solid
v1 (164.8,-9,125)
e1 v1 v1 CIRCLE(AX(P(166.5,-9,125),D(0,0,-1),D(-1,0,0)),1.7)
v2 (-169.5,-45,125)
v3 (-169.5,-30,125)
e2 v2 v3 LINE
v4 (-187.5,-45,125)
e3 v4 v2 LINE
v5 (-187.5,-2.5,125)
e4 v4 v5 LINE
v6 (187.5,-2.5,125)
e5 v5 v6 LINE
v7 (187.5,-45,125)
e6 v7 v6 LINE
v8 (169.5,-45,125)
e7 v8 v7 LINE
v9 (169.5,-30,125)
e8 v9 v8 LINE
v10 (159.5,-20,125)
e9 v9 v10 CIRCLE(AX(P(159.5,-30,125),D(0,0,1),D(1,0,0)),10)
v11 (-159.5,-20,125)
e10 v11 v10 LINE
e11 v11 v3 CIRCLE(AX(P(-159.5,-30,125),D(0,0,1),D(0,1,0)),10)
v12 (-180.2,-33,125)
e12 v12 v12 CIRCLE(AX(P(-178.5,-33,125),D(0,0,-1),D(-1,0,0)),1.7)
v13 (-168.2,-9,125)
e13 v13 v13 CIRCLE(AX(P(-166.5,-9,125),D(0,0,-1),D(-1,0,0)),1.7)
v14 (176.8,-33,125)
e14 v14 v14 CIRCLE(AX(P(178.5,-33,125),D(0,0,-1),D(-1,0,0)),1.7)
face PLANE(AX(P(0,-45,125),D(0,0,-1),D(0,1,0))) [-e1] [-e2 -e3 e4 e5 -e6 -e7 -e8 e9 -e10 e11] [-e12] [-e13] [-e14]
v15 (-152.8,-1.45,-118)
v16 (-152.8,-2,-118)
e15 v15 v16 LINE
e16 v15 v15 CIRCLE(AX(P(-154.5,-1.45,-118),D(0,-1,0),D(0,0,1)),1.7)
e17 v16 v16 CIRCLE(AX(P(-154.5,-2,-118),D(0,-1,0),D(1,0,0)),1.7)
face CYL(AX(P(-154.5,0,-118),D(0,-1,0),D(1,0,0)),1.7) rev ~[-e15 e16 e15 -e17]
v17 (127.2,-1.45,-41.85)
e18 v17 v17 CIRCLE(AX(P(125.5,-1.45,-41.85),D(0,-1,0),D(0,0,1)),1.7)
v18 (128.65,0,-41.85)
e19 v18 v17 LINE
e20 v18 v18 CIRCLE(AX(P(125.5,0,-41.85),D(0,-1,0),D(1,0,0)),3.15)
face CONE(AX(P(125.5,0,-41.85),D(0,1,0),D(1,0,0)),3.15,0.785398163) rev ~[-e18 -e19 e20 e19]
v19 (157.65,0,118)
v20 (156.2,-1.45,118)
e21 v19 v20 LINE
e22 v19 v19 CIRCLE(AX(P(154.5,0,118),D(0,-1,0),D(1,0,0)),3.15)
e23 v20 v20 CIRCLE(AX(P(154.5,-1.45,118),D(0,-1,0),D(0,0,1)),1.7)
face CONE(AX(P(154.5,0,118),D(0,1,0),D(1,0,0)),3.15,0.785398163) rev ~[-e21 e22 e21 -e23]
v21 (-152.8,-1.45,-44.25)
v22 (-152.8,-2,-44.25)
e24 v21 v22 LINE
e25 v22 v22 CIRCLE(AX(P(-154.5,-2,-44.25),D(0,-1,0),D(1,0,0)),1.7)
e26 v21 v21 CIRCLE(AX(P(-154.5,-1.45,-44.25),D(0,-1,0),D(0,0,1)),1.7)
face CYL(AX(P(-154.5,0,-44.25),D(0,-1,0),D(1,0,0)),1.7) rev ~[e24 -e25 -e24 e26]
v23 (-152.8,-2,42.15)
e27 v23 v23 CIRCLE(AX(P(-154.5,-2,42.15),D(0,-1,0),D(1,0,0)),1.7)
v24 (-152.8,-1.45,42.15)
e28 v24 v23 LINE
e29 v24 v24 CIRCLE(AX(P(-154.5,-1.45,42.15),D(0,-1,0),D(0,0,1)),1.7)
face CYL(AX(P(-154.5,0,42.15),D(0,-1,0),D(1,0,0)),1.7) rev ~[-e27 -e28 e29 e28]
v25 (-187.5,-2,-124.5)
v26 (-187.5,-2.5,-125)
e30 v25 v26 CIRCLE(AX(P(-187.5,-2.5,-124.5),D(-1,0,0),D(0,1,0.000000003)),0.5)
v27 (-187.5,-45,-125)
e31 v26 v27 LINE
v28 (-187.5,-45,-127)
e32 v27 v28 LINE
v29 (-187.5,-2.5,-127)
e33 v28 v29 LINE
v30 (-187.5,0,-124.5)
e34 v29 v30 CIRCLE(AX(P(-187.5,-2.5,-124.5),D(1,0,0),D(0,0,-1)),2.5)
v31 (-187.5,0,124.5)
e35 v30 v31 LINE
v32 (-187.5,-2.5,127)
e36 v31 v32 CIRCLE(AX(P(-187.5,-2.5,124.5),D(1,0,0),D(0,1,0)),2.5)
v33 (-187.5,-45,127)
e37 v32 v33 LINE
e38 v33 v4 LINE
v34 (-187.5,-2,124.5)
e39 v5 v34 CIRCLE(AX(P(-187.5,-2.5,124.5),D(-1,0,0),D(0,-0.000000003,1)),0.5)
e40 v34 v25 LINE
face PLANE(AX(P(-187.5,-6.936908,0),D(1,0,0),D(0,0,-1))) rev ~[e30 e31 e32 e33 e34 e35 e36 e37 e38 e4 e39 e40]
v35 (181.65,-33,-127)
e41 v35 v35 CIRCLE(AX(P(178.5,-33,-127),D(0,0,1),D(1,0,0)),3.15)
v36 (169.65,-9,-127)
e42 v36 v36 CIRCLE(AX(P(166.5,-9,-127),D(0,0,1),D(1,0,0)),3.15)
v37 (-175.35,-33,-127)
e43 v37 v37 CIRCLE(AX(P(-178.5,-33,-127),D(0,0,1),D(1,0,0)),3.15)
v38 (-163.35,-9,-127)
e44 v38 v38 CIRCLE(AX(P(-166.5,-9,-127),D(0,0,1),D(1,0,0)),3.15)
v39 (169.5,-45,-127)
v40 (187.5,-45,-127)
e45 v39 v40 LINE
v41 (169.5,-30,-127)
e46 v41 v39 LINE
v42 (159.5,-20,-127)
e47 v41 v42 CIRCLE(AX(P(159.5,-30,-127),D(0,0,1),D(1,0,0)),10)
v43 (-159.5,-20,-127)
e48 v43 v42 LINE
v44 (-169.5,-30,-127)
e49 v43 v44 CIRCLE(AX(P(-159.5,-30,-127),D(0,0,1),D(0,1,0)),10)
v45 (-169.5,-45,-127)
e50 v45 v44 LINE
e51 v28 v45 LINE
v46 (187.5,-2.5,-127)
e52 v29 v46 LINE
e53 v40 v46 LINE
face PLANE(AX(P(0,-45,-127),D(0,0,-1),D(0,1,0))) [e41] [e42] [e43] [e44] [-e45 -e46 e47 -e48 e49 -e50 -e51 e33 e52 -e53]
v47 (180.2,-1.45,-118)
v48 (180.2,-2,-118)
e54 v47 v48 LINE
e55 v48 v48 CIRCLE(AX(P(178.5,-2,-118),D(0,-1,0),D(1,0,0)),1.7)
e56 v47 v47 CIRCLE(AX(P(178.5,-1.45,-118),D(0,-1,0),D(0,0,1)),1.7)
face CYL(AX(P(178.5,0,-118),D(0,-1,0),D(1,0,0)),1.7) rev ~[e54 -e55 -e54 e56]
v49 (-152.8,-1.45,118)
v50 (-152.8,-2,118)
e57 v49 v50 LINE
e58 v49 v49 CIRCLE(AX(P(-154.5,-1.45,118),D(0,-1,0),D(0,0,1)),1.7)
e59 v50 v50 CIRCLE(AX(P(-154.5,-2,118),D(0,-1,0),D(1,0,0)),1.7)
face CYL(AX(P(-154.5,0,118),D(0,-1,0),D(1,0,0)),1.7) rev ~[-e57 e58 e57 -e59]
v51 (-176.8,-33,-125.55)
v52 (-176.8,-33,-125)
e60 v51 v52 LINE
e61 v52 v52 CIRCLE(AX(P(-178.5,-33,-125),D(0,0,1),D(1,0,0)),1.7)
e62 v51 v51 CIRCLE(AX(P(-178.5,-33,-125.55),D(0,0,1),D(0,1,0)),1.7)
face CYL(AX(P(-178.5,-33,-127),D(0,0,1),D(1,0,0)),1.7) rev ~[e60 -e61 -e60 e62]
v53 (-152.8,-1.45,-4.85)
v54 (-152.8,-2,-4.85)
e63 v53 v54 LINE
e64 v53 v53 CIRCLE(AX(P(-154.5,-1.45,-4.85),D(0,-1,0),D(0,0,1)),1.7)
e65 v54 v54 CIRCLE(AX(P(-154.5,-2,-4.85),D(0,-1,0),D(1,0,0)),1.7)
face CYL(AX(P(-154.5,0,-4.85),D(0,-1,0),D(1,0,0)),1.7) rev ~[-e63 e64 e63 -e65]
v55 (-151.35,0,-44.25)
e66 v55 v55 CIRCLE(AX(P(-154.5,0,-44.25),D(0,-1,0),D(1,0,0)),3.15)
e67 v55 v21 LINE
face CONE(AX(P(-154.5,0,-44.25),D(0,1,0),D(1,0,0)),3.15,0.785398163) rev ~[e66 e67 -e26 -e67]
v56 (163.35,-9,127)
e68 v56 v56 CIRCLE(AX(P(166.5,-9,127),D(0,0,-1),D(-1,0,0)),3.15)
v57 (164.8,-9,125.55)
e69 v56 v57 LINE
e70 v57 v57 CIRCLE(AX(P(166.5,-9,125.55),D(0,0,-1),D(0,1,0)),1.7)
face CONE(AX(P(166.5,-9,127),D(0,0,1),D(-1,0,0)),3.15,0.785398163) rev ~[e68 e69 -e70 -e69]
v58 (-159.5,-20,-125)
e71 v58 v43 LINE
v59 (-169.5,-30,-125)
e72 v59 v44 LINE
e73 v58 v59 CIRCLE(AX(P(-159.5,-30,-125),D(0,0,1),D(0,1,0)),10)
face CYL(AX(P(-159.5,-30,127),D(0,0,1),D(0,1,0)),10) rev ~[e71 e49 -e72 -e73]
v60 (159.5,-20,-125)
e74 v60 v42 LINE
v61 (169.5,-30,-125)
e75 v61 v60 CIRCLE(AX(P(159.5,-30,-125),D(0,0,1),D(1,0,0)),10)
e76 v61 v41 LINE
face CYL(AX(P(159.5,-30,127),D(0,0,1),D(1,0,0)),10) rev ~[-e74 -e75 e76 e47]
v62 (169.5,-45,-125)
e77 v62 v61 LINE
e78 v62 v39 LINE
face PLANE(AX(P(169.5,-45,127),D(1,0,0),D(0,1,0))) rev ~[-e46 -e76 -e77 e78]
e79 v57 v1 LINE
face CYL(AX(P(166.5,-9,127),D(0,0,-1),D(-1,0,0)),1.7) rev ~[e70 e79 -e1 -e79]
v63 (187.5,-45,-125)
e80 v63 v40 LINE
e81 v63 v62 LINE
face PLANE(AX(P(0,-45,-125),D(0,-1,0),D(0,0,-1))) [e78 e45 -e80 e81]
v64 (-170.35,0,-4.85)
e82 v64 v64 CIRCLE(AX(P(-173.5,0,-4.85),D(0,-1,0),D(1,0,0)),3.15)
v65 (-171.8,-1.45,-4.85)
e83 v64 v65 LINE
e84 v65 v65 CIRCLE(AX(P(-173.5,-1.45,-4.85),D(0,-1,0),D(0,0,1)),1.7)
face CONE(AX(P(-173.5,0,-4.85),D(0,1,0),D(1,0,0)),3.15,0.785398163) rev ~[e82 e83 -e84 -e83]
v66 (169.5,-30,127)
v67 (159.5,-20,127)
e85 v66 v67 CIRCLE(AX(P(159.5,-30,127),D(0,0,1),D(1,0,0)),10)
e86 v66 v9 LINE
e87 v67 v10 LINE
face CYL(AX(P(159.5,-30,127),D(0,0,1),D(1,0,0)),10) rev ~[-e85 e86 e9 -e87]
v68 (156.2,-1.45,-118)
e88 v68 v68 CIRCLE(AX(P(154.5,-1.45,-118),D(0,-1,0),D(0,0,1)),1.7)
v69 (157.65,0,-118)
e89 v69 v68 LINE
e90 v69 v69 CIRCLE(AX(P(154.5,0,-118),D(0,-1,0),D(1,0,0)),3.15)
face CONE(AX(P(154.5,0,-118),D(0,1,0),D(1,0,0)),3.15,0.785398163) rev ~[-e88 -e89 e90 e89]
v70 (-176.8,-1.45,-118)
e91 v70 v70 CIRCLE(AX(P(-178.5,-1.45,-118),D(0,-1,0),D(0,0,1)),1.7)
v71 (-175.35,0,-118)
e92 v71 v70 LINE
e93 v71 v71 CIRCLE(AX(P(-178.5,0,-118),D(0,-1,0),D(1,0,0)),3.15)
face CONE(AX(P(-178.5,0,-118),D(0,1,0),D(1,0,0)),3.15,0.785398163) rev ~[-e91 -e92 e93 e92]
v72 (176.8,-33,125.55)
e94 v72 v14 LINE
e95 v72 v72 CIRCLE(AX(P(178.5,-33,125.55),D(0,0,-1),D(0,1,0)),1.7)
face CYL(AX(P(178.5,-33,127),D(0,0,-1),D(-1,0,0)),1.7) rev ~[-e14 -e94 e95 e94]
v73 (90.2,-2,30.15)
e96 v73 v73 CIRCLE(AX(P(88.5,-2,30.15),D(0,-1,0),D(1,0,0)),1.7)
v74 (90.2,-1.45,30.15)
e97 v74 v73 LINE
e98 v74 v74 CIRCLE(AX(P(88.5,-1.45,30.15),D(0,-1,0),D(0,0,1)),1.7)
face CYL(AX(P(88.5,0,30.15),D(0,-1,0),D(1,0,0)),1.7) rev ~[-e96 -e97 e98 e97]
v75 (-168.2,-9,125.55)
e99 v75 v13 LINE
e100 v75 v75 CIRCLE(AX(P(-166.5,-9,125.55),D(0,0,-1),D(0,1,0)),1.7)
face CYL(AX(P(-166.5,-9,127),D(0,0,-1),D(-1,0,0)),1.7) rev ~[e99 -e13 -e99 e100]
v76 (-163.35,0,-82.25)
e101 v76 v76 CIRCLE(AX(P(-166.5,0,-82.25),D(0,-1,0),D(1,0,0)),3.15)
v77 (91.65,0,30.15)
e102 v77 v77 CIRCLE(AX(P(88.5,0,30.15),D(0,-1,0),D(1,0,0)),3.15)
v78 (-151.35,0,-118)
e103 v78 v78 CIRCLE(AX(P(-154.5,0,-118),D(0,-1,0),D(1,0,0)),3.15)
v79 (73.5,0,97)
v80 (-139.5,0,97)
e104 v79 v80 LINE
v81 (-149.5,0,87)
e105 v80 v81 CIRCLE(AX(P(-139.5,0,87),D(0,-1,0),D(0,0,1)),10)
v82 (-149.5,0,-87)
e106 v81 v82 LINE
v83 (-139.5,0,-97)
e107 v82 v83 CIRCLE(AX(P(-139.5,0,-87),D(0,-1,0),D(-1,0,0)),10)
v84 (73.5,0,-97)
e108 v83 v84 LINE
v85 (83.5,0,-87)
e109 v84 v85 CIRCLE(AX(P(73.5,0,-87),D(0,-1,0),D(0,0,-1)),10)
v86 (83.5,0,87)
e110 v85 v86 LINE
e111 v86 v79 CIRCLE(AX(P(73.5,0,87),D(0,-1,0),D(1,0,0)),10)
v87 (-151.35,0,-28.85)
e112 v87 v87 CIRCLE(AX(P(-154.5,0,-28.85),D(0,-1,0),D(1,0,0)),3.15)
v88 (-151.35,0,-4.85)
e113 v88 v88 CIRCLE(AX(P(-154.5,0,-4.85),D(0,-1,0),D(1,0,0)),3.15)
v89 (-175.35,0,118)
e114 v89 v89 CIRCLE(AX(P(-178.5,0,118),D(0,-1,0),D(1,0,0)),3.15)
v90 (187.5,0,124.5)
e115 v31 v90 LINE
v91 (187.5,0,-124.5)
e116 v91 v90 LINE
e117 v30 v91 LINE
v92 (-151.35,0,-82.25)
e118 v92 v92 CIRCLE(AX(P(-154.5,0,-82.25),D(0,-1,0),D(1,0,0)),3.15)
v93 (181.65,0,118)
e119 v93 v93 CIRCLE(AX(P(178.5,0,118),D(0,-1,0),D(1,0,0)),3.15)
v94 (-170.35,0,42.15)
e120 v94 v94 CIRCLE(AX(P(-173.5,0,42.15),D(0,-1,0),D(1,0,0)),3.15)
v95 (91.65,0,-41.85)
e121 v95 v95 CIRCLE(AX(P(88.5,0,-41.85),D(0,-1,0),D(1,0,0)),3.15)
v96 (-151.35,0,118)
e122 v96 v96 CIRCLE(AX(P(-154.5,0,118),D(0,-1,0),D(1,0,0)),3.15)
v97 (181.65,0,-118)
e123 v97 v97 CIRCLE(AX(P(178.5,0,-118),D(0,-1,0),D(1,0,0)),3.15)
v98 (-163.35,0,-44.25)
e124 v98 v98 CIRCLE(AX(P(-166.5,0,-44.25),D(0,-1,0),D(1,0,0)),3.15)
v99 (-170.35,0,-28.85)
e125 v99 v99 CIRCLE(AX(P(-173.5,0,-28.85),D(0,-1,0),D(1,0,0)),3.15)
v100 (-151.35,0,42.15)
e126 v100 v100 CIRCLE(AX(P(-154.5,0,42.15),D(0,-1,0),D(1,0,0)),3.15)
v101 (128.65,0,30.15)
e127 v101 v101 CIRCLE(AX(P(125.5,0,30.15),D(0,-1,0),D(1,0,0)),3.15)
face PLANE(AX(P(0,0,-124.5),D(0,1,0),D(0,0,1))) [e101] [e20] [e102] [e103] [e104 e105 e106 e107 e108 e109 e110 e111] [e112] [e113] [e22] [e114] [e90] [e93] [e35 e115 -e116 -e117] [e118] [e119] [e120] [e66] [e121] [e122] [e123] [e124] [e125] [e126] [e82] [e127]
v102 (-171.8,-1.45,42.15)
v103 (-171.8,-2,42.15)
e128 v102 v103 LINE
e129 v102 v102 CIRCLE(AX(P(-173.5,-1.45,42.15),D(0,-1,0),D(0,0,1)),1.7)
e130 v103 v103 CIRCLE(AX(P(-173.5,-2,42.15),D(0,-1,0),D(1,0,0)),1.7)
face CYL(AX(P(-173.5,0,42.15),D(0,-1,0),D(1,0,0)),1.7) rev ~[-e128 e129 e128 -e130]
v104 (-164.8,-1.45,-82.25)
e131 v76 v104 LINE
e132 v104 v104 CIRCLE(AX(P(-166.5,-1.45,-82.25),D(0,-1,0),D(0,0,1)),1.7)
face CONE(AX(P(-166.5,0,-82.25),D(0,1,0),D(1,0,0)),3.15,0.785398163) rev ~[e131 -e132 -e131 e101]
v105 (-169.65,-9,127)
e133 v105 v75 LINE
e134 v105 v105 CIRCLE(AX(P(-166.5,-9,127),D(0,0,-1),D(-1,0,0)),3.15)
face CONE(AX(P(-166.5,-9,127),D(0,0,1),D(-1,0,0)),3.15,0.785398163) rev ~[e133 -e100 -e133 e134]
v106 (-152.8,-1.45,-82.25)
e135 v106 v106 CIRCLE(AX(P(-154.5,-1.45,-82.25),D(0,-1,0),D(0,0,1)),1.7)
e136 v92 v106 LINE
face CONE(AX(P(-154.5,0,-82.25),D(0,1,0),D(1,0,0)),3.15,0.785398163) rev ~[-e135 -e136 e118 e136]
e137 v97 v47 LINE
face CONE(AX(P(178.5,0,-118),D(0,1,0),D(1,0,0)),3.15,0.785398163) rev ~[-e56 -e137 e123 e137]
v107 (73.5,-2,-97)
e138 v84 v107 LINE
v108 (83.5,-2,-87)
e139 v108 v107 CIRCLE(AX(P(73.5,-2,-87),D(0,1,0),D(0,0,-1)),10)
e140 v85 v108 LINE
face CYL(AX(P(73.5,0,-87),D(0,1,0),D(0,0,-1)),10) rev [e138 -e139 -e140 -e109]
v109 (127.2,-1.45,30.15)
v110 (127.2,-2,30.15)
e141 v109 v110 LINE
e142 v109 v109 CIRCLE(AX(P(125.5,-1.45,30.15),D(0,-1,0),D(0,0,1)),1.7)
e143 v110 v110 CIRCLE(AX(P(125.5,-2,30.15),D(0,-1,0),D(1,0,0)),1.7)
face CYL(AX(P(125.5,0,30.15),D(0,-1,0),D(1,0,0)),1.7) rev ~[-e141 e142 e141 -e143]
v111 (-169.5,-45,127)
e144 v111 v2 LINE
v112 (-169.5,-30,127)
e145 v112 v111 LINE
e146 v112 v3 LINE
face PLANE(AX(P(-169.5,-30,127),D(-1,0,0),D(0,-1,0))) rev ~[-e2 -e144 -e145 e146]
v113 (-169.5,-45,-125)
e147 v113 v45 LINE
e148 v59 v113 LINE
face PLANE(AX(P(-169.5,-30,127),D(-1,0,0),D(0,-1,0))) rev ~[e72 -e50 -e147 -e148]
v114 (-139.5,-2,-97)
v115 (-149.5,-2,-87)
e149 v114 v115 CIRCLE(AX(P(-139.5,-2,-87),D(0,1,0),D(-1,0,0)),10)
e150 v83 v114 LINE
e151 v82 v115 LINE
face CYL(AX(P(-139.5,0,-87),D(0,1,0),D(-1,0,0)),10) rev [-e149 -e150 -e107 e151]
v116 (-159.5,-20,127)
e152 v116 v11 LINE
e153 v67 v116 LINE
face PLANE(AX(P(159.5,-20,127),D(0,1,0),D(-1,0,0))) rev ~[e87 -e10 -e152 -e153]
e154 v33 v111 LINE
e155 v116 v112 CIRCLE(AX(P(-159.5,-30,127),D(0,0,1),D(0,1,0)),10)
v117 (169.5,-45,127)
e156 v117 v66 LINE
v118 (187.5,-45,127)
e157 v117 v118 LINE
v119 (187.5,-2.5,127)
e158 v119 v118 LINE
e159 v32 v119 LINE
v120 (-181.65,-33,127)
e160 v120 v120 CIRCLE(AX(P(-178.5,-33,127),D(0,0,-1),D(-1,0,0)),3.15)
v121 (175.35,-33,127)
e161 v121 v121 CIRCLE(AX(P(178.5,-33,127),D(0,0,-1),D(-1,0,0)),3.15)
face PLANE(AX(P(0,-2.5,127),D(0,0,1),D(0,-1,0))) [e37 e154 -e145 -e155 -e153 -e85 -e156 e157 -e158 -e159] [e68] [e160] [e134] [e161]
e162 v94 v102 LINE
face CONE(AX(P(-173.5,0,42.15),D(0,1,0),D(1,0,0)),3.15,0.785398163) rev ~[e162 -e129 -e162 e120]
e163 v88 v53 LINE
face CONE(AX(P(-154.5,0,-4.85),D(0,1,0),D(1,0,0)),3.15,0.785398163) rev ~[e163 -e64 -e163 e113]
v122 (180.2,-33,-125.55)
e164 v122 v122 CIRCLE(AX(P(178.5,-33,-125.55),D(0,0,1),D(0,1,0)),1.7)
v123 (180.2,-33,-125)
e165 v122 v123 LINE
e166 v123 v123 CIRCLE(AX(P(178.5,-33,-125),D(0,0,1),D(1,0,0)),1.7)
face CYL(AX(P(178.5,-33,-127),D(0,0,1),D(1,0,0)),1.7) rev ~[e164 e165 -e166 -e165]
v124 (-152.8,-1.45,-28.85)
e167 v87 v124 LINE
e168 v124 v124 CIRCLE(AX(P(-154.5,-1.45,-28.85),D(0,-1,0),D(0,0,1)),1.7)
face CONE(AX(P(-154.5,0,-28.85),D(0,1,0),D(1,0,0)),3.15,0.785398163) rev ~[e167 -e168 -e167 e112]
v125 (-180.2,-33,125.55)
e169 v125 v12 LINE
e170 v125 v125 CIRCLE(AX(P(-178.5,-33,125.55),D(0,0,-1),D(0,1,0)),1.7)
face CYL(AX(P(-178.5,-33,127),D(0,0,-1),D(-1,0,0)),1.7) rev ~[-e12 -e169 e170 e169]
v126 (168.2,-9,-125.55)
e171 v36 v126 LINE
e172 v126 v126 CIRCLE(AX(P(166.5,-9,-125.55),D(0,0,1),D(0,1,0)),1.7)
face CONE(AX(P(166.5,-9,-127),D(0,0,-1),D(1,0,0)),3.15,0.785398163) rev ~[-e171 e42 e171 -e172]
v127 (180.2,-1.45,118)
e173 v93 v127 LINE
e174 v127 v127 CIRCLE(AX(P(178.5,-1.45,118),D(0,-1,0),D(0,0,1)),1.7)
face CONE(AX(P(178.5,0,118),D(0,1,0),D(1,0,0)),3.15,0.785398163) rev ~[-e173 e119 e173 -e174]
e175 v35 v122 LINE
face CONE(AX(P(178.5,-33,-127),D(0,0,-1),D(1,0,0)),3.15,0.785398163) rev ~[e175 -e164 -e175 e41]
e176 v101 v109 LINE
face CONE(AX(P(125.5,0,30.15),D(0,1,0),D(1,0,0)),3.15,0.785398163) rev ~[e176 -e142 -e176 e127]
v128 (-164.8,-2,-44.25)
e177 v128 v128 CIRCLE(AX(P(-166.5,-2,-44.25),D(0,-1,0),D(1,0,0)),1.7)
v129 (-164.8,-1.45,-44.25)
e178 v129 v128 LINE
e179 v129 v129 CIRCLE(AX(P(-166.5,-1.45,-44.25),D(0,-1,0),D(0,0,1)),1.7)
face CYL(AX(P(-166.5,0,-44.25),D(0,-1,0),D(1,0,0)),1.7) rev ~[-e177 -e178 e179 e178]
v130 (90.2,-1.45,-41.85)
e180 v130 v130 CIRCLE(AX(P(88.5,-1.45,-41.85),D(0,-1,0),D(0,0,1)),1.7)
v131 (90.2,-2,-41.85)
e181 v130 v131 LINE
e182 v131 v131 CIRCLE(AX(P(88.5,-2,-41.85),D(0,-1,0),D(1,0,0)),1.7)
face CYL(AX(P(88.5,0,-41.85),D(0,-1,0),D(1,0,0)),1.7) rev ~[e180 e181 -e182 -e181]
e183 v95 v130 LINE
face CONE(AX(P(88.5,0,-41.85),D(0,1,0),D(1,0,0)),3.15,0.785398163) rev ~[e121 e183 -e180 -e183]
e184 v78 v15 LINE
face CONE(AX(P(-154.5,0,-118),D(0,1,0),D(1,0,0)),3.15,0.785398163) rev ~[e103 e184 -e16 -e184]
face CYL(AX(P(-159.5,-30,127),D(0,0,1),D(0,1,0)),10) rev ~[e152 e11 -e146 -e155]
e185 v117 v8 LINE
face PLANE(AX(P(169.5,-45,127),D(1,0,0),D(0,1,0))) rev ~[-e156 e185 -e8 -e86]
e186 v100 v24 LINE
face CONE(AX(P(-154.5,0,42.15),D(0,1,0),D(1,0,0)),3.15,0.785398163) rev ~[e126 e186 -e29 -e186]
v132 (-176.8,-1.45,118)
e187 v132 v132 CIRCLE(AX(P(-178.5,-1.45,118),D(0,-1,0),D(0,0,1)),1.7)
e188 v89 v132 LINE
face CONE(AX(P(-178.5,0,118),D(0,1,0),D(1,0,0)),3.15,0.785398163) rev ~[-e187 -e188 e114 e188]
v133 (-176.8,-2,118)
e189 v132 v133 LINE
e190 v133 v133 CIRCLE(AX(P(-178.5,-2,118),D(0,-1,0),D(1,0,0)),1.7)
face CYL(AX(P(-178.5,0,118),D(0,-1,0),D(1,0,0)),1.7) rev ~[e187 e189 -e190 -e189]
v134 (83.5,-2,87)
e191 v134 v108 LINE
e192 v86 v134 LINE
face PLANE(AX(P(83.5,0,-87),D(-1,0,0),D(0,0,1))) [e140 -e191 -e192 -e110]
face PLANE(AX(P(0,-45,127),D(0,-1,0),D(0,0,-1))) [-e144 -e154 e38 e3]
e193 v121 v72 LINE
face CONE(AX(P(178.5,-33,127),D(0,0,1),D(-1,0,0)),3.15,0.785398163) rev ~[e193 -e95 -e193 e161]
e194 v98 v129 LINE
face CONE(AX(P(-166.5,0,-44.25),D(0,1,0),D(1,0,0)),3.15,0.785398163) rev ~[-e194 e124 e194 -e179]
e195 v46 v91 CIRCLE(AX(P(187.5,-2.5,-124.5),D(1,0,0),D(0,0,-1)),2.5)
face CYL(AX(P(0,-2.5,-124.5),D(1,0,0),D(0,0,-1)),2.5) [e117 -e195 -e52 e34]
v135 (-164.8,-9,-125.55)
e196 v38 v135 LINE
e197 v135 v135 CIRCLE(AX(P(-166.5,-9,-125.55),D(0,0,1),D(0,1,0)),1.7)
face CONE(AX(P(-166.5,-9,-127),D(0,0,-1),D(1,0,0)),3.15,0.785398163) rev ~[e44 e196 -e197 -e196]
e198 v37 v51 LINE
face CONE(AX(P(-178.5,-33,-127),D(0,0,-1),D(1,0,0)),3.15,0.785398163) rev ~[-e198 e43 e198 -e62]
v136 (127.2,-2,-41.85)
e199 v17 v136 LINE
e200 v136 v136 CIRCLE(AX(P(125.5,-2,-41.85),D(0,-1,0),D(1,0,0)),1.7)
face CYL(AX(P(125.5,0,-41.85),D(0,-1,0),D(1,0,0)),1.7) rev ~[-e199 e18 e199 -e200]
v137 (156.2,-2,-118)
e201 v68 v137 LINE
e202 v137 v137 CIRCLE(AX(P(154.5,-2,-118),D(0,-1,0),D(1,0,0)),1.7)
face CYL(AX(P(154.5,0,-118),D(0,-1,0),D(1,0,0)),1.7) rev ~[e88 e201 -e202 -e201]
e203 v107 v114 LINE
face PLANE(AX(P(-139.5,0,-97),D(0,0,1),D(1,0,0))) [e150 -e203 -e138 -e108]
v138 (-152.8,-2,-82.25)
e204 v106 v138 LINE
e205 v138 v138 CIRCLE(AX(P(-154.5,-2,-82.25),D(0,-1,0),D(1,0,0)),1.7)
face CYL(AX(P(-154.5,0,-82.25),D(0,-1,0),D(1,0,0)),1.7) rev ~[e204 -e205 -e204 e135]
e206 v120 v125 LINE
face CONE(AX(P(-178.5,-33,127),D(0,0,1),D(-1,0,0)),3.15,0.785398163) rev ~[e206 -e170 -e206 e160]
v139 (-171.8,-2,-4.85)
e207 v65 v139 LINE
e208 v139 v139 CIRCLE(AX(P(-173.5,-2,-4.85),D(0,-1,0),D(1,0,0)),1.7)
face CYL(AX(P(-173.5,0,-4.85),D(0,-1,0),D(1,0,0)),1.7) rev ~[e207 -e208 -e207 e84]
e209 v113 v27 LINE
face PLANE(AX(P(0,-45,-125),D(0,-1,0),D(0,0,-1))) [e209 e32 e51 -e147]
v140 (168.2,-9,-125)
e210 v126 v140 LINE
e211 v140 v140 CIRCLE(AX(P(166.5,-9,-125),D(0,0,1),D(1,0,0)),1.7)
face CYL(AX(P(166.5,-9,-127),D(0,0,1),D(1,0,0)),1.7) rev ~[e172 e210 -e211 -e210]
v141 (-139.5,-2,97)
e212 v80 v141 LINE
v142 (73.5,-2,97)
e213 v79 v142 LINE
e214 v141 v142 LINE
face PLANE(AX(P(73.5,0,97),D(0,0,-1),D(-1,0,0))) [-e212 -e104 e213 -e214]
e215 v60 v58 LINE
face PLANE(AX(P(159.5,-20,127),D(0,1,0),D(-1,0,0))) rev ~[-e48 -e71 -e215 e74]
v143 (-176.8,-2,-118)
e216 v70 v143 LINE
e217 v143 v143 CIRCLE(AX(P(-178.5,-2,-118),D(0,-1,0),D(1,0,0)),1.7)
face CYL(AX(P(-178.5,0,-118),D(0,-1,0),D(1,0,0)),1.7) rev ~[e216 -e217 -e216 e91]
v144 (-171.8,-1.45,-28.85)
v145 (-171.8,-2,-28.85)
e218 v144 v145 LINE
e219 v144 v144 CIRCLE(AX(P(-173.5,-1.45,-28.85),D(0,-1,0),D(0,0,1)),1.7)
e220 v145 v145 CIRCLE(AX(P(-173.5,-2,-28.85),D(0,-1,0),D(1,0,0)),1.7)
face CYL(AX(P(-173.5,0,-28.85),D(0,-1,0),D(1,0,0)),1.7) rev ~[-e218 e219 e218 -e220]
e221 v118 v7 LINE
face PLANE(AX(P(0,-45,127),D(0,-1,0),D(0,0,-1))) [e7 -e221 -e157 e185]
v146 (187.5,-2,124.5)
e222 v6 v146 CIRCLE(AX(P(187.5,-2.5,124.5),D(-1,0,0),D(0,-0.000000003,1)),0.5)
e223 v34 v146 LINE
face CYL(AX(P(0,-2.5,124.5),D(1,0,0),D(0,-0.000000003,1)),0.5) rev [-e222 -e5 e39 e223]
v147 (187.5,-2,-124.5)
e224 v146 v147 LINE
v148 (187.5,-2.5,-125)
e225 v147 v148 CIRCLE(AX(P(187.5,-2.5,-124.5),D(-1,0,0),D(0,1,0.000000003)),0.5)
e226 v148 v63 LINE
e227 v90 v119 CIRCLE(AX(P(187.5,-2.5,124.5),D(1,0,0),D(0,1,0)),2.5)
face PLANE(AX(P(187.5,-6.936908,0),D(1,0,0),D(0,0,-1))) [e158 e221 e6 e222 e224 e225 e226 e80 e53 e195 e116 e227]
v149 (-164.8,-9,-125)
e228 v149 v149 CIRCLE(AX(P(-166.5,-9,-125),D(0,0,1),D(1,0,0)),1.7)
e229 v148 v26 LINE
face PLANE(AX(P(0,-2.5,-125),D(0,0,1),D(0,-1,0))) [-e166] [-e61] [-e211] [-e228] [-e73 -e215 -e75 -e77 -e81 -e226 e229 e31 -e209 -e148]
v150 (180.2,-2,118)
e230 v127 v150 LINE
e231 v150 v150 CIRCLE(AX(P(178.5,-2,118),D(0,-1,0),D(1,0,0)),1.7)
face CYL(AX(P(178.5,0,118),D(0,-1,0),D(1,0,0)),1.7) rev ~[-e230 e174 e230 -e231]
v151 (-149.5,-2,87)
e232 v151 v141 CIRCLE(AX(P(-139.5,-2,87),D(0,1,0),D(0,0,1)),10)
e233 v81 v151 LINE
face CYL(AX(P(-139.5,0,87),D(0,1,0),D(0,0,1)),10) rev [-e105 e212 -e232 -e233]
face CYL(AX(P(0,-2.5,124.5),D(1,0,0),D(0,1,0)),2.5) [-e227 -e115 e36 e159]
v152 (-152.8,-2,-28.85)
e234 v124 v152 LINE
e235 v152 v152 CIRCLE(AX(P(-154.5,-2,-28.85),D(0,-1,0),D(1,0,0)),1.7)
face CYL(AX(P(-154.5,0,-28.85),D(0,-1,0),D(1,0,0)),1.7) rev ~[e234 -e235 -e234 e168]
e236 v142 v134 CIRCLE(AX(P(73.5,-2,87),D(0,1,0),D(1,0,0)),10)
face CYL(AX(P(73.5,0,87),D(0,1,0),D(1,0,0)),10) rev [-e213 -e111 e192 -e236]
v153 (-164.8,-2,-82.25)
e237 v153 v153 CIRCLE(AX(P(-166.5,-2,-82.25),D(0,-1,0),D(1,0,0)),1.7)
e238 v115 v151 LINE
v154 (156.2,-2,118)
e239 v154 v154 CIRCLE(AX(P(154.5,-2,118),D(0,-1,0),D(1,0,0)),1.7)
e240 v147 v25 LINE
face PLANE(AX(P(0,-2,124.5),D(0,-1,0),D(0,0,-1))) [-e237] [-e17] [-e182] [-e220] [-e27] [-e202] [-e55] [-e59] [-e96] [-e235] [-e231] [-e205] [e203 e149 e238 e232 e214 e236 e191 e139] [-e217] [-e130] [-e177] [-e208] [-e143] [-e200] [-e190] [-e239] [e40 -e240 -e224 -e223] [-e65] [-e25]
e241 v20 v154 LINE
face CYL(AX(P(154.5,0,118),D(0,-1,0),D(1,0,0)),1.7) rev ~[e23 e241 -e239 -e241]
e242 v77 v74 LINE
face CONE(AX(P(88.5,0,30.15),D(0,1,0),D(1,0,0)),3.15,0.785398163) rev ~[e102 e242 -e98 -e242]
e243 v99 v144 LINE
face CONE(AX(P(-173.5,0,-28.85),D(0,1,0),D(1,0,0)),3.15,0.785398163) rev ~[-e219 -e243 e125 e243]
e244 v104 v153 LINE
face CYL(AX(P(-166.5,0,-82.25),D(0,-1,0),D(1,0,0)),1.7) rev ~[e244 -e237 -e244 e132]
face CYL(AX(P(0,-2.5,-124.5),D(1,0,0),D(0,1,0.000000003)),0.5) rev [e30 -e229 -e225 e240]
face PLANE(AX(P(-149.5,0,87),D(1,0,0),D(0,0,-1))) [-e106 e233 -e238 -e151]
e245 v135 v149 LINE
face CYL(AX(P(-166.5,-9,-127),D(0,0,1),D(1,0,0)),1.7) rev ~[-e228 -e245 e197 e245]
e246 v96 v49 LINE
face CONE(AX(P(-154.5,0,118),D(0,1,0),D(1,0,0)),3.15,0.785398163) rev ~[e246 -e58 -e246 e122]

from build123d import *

# Parameters (mm, degrees)
BOSS_EXTRUDE1_DEPTH                             = 187.5
CUT_EXTRUDE1_DEPTH                              = 255
CUT_EXTRUDE2_DEPTH                              = 10
SKETCH4_R                                       = 1.5
CUT_EXTRUDE3_DEPTH                              = 255
SKETCH5_R                                       = 1.5
CUT_EXTRUDE4_DEPTH                              = 10
CSK_FOR_M3_FLAT_HEAD_MACHINE_SCREW1_D           = 3.4
CSK_FOR_M3_FLAT_HEAD_MACHINE_SCREW1_CSINK_D     = 6.3
CSK_FOR_M3_FLAT_HEAD_MACHINE_SCREW1_CSINK_ANGLE = 90
CSK_FOR_M3_FLAT_HEAD_MACHINE_SCREW2_D           = 3.4
CSK_FOR_M3_FLAT_HEAD_MACHINE_SCREW2_DEPTH       = 10
CSK_FOR_M3_FLAT_HEAD_MACHINE_SCREW2_CSINK_D     = 6.3
CSK_FOR_M3_FLAT_HEAD_MACHINE_SCREW2_CSINK_ANGLE = 90
CSK_FOR_M3_FLAT_HEAD_MACHINE_SCREW2_TIP         = 1.021463052
CSK_FOR_M3_FLAT_HEAD_MACHINE_SCREW3_D           = 3.4
CSK_FOR_M3_FLAT_HEAD_MACHINE_SCREW3_DEPTH       = 10
CSK_FOR_M3_FLAT_HEAD_MACHINE_SCREW3_CSINK_D     = 6.3
CSK_FOR_M3_FLAT_HEAD_MACHINE_SCREW3_CSINK_ANGLE = 90
CSK_FOR_M3_FLAT_HEAD_MACHINE_SCREW3_TIP         = 1.021463052


with BuildPart() as part:
    # Sketch1 → Boss-Extrude1 (new body, symmetric)
    with BuildSketch(Plane(origin=(0, 0, 0), x_dir=(0, 0, -1), z_dir=(1, 0, 0))):
        with BuildLine():
            Line((125, -45), (127, -45))
            Line((127, -45), (127, -2.5))
            ThreePointArc((127, -2.5), (126.267766953, -0.732233047), (124.5, 0))
            Line((124.5, 0), (-124.5, 0))
            ThreePointArc((-124.5, 0), (-126.267766953, -0.732233047), (-127, -2.5))
            Line((-127, -2.5), (-127, -45))
            Line((-127, -45), (-125, -45))
            Line((-125, -45), (-125, -2.5))
            ThreePointArc((-125, -2.5), (-124.853553391, -2.146446609), (-124.5, -2))
            Line((-124.5, -2), (124.5, -2))
            ThreePointArc((124.5, -2), (124.853553391, -2.146446609), (125, -2.5))
            Line((125, -2.5), (125, -45))
        make_face()
    extrude(amount=BOSS_EXTRUDE1_DEPTH, both=True)

    # Sketch2 → Cut-Extrude1 (cut, through all)
    with BuildSketch(Plane.XY.offset(127)):
        with BuildLine():
            Line((-169.5, -45), (169.5, -45))
            Line((169.5, -45), (169.5, -30))
            ThreePointArc((169.5, -30), (166.571067812, -22.928932188), (159.5, -20))
            Line((159.5, -20), (-159.5, -20))
            ThreePointArc((-159.5, -20), (-166.571067812, -22.928932188), (-169.5, -30))
            Line((-169.5, -30), (-169.5, -45))
        make_face()
    extrude(amount=-CUT_EXTRUDE1_DEPTH, mode=Mode.SUBTRACT)

    # Sketch3 → Cut-Extrude2 (cut)
    with BuildSketch(Plane(origin=(0, 0, 0), x_dir=(1, 0, 0), z_dir=(0, 1, 0))):
        with BuildLine():
            Line((-139.5, 97), (73.5, 97))
            ThreePointArc((73.5, 97), (80.571067812, 94.071067812), (83.5, 87))
            Line((83.5, 87), (83.5, -87))
            ThreePointArc((83.5, -87), (80.571067812, -94.071067812), (73.5, -97))
            Line((73.5, -97), (-139.5, -97))
            ThreePointArc((-139.5, -97), (-146.571067812, -94.071067812), (-149.5, -87))
            Line((-149.5, -87), (-149.5, 87))
            ThreePointArc((-149.5, 87), (-146.571067812, 94.071067812), (-139.5, 97))
        make_face()
    extrude(amount=-CUT_EXTRUDE2_DEPTH, mode=Mode.SUBTRACT)

    # Sketch4 → Cut-Extrude3 (cut, through all)
    with BuildSketch(Plane.XY.offset(127)):
        with Locations((-178.5, -33)):
            Circle(SKETCH4_R)
        with Locations((-166.5, -9)):
            Circle(SKETCH4_R)
        with Locations((166.5, -9)):
            Circle(SKETCH4_R)
        with Locations((178.5, -33)):
            Circle(SKETCH4_R)
    extrude(amount=-CUT_EXTRUDE3_DEPTH, mode=Mode.SUBTRACT)

    # Sketch5 → Cut-Extrude4 (cut)
    with BuildSketch(Plane(origin=(0, 0, 0), x_dir=(1, 0, 0), z_dir=(0, 1, 0))):
        with Locations(Location((-178.5, 118, 0), (0, 0, 270))):  # turned: the seam where the file's is
            Circle(SKETCH5_R)
        with Locations(Location((-154.5, 118, 0), (0, 0, 270))):  # turned: the seam where the file's is
            Circle(SKETCH5_R)
        with Locations(Location((154.5, 118, 0), (0, 0, 270))):  # turned: the seam where the file's is
            Circle(SKETCH5_R)
        with Locations(Location((178.5, 118, 0), (0, 0, 270))):  # turned: the seam where the file's is
            Circle(SKETCH5_R)
        with Locations(Location((178.5, -118, 0), (0, 0, 270))):  # turned: the seam where the file's is
            Circle(SKETCH5_R)
        with Locations(Location((154.5, -118, 0), (0, 0, 270))):  # turned: the seam where the file's is
            Circle(SKETCH5_R)
        with Locations(Location((-178.5, -118, 0), (0, 0, 270))):  # turned: the seam where the file's is
            Circle(SKETCH5_R)
        with Locations(Location((-154.5, -118, 0), (0, 0, 270))):  # turned: the seam where the file's is
            Circle(SKETCH5_R)
        with Locations(Location((88.5, 41.85, 0), (0, 0, 270))):  # turned: the seam where the file's is
            Circle(SKETCH5_R)
        with Locations(Location((88.5, -30.15, 0), (0, 0, 270))):  # turned: the seam where the file's is
            Circle(SKETCH5_R)
        with Locations(Location((125.5, 41.85, 0), (0, 0, 270))):  # turned: the seam where the file's is
            Circle(SKETCH5_R)
        with Locations(Location((125.5, -30.15, 0), (0, 0, 270))):  # turned: the seam where the file's is
            Circle(SKETCH5_R)
        with Locations(Location((-154.5, 28.85, 0), (0, 0, 270))):  # turned: the seam where the file's is
            Circle(SKETCH5_R)
        with Locations(Location((-173.5, 28.85, 0), (0, 0, 270))):  # turned: the seam where the file's is
            Circle(SKETCH5_R)
        with Locations(Location((-173.5, 4.85, 0), (0, 0, 270))):  # turned: the seam where the file's is
            Circle(SKETCH5_R)
        with Locations(Location((-154.5, 4.85, 0), (0, 0, 270))):  # turned: the seam where the file's is
            Circle(SKETCH5_R)
        with Locations(Location((-154.5, -42.15, 0), (0, 0, 270))):  # turned: the seam where the file's is
            Circle(SKETCH5_R)
        with Locations(Location((-173.5, -42.15, 0), (0, 0, 270))):  # turned: the seam where the file's is
            Circle(SKETCH5_R)
        with Locations(Location((-166.5, 82.25, 0), (0, 0, 270))):  # turned: the seam where the file's is
            Circle(SKETCH5_R)
        with Locations(Location((-154.5, 82.25, 0), (0, 0, 270))):  # turned: the seam where the file's is
            Circle(SKETCH5_R)
        with Locations(Location((-166.5, 44.25, 0), (0, 0, 270))):  # turned: the seam where the file's is
            Circle(SKETCH5_R)
        with Locations(Location((-154.5, 44.25, 0), (0, 0, 270))):  # turned: the seam where the file's is
            Circle(SKETCH5_R)
    extrude(amount=-CUT_EXTRUDE4_DEPTH, mode=Mode.SUBTRACT)

    # CSK for M3 Flat Head Machine Screw1 (through all)
    with Locations(Plane(origin=(0, 0, 0), x_dir=(-1, 0, 0), z_dir=(0, 1, 0))):
        with Locations((154.5, 118), (178.5, 118), (154.5, 42.15), (173.5, 42.15), (154.5, -4.85), (173.5, -4.85), (173.5, -28.85), (154.5, -28.85), (154.5, -44.25), (166.5, -44.25), (166.5, -82.25), (154.5, -82.25), (178.5, -118), (154.5, -118), (-154.5, -118), (-178.5, -118), (-125.5, -41.85), (-88.5, -41.85), (-125.5, 30.15), (-88.5, 30.15), (-178.5, 118), (-154.5, 118)):
            CounterSinkHole(CSK_FOR_M3_FLAT_HEAD_MACHINE_SCREW1_D / 2, CSK_FOR_M3_FLAT_HEAD_MACHINE_SCREW1_CSINK_D / 2, counter_sink_angle=CSK_FOR_M3_FLAT_HEAD_MACHINE_SCREW1_CSINK_ANGLE)

    # CSK for M3 Flat Head Machine Screw2
    with Locations(Plane.XY.offset(127)):
        with Locations((166.5, -9), (178.5, -33), (-178.5, -33), (-166.5, -9)):
            CounterSinkHole(CSK_FOR_M3_FLAT_HEAD_MACHINE_SCREW2_D / 2, CSK_FOR_M3_FLAT_HEAD_MACHINE_SCREW2_CSINK_D / 2, depth=CSK_FOR_M3_FLAT_HEAD_MACHINE_SCREW2_DEPTH, counter_sink_angle=CSK_FOR_M3_FLAT_HEAD_MACHINE_SCREW2_CSINK_ANGLE)
            with Locations((0, 0, -(CSK_FOR_M3_FLAT_HEAD_MACHINE_SCREW2_DEPTH + CSK_FOR_M3_FLAT_HEAD_MACHINE_SCREW2_TIP / 2))):  # 118° drill point
                Cone(0, CSK_FOR_M3_FLAT_HEAD_MACHINE_SCREW2_D / 2, CSK_FOR_M3_FLAT_HEAD_MACHINE_SCREW2_TIP, mode=Mode.SUBTRACT)

    # CSK for M3 Flat Head Machine Screw3
    with Locations(Plane(origin=(0, 0, -127), x_dir=(-1, 0, 0), z_dir=(0, 0, -1))):
        with Locations((-166.5, -9), (178.5, -33), (166.5, -9), (-178.5, -33)):
            CounterSinkHole(CSK_FOR_M3_FLAT_HEAD_MACHINE_SCREW3_D / 2, CSK_FOR_M3_FLAT_HEAD_MACHINE_SCREW3_CSINK_D / 2, depth=CSK_FOR_M3_FLAT_HEAD_MACHINE_SCREW3_DEPTH, counter_sink_angle=CSK_FOR_M3_FLAT_HEAD_MACHINE_SCREW3_CSINK_ANGLE)
            with Locations((0, 0, -(CSK_FOR_M3_FLAT_HEAD_MACHINE_SCREW3_DEPTH + CSK_FOR_M3_FLAT_HEAD_MACHINE_SCREW3_TIP / 2))):  # 118° drill point
                Cone(0, CSK_FOR_M3_FLAT_HEAD_MACHINE_SCREW3_D / 2, CSK_FOR_M3_FLAT_HEAD_MACHINE_SCREW3_TIP, mode=Mode.SUBTRACT)


solid = part.part
